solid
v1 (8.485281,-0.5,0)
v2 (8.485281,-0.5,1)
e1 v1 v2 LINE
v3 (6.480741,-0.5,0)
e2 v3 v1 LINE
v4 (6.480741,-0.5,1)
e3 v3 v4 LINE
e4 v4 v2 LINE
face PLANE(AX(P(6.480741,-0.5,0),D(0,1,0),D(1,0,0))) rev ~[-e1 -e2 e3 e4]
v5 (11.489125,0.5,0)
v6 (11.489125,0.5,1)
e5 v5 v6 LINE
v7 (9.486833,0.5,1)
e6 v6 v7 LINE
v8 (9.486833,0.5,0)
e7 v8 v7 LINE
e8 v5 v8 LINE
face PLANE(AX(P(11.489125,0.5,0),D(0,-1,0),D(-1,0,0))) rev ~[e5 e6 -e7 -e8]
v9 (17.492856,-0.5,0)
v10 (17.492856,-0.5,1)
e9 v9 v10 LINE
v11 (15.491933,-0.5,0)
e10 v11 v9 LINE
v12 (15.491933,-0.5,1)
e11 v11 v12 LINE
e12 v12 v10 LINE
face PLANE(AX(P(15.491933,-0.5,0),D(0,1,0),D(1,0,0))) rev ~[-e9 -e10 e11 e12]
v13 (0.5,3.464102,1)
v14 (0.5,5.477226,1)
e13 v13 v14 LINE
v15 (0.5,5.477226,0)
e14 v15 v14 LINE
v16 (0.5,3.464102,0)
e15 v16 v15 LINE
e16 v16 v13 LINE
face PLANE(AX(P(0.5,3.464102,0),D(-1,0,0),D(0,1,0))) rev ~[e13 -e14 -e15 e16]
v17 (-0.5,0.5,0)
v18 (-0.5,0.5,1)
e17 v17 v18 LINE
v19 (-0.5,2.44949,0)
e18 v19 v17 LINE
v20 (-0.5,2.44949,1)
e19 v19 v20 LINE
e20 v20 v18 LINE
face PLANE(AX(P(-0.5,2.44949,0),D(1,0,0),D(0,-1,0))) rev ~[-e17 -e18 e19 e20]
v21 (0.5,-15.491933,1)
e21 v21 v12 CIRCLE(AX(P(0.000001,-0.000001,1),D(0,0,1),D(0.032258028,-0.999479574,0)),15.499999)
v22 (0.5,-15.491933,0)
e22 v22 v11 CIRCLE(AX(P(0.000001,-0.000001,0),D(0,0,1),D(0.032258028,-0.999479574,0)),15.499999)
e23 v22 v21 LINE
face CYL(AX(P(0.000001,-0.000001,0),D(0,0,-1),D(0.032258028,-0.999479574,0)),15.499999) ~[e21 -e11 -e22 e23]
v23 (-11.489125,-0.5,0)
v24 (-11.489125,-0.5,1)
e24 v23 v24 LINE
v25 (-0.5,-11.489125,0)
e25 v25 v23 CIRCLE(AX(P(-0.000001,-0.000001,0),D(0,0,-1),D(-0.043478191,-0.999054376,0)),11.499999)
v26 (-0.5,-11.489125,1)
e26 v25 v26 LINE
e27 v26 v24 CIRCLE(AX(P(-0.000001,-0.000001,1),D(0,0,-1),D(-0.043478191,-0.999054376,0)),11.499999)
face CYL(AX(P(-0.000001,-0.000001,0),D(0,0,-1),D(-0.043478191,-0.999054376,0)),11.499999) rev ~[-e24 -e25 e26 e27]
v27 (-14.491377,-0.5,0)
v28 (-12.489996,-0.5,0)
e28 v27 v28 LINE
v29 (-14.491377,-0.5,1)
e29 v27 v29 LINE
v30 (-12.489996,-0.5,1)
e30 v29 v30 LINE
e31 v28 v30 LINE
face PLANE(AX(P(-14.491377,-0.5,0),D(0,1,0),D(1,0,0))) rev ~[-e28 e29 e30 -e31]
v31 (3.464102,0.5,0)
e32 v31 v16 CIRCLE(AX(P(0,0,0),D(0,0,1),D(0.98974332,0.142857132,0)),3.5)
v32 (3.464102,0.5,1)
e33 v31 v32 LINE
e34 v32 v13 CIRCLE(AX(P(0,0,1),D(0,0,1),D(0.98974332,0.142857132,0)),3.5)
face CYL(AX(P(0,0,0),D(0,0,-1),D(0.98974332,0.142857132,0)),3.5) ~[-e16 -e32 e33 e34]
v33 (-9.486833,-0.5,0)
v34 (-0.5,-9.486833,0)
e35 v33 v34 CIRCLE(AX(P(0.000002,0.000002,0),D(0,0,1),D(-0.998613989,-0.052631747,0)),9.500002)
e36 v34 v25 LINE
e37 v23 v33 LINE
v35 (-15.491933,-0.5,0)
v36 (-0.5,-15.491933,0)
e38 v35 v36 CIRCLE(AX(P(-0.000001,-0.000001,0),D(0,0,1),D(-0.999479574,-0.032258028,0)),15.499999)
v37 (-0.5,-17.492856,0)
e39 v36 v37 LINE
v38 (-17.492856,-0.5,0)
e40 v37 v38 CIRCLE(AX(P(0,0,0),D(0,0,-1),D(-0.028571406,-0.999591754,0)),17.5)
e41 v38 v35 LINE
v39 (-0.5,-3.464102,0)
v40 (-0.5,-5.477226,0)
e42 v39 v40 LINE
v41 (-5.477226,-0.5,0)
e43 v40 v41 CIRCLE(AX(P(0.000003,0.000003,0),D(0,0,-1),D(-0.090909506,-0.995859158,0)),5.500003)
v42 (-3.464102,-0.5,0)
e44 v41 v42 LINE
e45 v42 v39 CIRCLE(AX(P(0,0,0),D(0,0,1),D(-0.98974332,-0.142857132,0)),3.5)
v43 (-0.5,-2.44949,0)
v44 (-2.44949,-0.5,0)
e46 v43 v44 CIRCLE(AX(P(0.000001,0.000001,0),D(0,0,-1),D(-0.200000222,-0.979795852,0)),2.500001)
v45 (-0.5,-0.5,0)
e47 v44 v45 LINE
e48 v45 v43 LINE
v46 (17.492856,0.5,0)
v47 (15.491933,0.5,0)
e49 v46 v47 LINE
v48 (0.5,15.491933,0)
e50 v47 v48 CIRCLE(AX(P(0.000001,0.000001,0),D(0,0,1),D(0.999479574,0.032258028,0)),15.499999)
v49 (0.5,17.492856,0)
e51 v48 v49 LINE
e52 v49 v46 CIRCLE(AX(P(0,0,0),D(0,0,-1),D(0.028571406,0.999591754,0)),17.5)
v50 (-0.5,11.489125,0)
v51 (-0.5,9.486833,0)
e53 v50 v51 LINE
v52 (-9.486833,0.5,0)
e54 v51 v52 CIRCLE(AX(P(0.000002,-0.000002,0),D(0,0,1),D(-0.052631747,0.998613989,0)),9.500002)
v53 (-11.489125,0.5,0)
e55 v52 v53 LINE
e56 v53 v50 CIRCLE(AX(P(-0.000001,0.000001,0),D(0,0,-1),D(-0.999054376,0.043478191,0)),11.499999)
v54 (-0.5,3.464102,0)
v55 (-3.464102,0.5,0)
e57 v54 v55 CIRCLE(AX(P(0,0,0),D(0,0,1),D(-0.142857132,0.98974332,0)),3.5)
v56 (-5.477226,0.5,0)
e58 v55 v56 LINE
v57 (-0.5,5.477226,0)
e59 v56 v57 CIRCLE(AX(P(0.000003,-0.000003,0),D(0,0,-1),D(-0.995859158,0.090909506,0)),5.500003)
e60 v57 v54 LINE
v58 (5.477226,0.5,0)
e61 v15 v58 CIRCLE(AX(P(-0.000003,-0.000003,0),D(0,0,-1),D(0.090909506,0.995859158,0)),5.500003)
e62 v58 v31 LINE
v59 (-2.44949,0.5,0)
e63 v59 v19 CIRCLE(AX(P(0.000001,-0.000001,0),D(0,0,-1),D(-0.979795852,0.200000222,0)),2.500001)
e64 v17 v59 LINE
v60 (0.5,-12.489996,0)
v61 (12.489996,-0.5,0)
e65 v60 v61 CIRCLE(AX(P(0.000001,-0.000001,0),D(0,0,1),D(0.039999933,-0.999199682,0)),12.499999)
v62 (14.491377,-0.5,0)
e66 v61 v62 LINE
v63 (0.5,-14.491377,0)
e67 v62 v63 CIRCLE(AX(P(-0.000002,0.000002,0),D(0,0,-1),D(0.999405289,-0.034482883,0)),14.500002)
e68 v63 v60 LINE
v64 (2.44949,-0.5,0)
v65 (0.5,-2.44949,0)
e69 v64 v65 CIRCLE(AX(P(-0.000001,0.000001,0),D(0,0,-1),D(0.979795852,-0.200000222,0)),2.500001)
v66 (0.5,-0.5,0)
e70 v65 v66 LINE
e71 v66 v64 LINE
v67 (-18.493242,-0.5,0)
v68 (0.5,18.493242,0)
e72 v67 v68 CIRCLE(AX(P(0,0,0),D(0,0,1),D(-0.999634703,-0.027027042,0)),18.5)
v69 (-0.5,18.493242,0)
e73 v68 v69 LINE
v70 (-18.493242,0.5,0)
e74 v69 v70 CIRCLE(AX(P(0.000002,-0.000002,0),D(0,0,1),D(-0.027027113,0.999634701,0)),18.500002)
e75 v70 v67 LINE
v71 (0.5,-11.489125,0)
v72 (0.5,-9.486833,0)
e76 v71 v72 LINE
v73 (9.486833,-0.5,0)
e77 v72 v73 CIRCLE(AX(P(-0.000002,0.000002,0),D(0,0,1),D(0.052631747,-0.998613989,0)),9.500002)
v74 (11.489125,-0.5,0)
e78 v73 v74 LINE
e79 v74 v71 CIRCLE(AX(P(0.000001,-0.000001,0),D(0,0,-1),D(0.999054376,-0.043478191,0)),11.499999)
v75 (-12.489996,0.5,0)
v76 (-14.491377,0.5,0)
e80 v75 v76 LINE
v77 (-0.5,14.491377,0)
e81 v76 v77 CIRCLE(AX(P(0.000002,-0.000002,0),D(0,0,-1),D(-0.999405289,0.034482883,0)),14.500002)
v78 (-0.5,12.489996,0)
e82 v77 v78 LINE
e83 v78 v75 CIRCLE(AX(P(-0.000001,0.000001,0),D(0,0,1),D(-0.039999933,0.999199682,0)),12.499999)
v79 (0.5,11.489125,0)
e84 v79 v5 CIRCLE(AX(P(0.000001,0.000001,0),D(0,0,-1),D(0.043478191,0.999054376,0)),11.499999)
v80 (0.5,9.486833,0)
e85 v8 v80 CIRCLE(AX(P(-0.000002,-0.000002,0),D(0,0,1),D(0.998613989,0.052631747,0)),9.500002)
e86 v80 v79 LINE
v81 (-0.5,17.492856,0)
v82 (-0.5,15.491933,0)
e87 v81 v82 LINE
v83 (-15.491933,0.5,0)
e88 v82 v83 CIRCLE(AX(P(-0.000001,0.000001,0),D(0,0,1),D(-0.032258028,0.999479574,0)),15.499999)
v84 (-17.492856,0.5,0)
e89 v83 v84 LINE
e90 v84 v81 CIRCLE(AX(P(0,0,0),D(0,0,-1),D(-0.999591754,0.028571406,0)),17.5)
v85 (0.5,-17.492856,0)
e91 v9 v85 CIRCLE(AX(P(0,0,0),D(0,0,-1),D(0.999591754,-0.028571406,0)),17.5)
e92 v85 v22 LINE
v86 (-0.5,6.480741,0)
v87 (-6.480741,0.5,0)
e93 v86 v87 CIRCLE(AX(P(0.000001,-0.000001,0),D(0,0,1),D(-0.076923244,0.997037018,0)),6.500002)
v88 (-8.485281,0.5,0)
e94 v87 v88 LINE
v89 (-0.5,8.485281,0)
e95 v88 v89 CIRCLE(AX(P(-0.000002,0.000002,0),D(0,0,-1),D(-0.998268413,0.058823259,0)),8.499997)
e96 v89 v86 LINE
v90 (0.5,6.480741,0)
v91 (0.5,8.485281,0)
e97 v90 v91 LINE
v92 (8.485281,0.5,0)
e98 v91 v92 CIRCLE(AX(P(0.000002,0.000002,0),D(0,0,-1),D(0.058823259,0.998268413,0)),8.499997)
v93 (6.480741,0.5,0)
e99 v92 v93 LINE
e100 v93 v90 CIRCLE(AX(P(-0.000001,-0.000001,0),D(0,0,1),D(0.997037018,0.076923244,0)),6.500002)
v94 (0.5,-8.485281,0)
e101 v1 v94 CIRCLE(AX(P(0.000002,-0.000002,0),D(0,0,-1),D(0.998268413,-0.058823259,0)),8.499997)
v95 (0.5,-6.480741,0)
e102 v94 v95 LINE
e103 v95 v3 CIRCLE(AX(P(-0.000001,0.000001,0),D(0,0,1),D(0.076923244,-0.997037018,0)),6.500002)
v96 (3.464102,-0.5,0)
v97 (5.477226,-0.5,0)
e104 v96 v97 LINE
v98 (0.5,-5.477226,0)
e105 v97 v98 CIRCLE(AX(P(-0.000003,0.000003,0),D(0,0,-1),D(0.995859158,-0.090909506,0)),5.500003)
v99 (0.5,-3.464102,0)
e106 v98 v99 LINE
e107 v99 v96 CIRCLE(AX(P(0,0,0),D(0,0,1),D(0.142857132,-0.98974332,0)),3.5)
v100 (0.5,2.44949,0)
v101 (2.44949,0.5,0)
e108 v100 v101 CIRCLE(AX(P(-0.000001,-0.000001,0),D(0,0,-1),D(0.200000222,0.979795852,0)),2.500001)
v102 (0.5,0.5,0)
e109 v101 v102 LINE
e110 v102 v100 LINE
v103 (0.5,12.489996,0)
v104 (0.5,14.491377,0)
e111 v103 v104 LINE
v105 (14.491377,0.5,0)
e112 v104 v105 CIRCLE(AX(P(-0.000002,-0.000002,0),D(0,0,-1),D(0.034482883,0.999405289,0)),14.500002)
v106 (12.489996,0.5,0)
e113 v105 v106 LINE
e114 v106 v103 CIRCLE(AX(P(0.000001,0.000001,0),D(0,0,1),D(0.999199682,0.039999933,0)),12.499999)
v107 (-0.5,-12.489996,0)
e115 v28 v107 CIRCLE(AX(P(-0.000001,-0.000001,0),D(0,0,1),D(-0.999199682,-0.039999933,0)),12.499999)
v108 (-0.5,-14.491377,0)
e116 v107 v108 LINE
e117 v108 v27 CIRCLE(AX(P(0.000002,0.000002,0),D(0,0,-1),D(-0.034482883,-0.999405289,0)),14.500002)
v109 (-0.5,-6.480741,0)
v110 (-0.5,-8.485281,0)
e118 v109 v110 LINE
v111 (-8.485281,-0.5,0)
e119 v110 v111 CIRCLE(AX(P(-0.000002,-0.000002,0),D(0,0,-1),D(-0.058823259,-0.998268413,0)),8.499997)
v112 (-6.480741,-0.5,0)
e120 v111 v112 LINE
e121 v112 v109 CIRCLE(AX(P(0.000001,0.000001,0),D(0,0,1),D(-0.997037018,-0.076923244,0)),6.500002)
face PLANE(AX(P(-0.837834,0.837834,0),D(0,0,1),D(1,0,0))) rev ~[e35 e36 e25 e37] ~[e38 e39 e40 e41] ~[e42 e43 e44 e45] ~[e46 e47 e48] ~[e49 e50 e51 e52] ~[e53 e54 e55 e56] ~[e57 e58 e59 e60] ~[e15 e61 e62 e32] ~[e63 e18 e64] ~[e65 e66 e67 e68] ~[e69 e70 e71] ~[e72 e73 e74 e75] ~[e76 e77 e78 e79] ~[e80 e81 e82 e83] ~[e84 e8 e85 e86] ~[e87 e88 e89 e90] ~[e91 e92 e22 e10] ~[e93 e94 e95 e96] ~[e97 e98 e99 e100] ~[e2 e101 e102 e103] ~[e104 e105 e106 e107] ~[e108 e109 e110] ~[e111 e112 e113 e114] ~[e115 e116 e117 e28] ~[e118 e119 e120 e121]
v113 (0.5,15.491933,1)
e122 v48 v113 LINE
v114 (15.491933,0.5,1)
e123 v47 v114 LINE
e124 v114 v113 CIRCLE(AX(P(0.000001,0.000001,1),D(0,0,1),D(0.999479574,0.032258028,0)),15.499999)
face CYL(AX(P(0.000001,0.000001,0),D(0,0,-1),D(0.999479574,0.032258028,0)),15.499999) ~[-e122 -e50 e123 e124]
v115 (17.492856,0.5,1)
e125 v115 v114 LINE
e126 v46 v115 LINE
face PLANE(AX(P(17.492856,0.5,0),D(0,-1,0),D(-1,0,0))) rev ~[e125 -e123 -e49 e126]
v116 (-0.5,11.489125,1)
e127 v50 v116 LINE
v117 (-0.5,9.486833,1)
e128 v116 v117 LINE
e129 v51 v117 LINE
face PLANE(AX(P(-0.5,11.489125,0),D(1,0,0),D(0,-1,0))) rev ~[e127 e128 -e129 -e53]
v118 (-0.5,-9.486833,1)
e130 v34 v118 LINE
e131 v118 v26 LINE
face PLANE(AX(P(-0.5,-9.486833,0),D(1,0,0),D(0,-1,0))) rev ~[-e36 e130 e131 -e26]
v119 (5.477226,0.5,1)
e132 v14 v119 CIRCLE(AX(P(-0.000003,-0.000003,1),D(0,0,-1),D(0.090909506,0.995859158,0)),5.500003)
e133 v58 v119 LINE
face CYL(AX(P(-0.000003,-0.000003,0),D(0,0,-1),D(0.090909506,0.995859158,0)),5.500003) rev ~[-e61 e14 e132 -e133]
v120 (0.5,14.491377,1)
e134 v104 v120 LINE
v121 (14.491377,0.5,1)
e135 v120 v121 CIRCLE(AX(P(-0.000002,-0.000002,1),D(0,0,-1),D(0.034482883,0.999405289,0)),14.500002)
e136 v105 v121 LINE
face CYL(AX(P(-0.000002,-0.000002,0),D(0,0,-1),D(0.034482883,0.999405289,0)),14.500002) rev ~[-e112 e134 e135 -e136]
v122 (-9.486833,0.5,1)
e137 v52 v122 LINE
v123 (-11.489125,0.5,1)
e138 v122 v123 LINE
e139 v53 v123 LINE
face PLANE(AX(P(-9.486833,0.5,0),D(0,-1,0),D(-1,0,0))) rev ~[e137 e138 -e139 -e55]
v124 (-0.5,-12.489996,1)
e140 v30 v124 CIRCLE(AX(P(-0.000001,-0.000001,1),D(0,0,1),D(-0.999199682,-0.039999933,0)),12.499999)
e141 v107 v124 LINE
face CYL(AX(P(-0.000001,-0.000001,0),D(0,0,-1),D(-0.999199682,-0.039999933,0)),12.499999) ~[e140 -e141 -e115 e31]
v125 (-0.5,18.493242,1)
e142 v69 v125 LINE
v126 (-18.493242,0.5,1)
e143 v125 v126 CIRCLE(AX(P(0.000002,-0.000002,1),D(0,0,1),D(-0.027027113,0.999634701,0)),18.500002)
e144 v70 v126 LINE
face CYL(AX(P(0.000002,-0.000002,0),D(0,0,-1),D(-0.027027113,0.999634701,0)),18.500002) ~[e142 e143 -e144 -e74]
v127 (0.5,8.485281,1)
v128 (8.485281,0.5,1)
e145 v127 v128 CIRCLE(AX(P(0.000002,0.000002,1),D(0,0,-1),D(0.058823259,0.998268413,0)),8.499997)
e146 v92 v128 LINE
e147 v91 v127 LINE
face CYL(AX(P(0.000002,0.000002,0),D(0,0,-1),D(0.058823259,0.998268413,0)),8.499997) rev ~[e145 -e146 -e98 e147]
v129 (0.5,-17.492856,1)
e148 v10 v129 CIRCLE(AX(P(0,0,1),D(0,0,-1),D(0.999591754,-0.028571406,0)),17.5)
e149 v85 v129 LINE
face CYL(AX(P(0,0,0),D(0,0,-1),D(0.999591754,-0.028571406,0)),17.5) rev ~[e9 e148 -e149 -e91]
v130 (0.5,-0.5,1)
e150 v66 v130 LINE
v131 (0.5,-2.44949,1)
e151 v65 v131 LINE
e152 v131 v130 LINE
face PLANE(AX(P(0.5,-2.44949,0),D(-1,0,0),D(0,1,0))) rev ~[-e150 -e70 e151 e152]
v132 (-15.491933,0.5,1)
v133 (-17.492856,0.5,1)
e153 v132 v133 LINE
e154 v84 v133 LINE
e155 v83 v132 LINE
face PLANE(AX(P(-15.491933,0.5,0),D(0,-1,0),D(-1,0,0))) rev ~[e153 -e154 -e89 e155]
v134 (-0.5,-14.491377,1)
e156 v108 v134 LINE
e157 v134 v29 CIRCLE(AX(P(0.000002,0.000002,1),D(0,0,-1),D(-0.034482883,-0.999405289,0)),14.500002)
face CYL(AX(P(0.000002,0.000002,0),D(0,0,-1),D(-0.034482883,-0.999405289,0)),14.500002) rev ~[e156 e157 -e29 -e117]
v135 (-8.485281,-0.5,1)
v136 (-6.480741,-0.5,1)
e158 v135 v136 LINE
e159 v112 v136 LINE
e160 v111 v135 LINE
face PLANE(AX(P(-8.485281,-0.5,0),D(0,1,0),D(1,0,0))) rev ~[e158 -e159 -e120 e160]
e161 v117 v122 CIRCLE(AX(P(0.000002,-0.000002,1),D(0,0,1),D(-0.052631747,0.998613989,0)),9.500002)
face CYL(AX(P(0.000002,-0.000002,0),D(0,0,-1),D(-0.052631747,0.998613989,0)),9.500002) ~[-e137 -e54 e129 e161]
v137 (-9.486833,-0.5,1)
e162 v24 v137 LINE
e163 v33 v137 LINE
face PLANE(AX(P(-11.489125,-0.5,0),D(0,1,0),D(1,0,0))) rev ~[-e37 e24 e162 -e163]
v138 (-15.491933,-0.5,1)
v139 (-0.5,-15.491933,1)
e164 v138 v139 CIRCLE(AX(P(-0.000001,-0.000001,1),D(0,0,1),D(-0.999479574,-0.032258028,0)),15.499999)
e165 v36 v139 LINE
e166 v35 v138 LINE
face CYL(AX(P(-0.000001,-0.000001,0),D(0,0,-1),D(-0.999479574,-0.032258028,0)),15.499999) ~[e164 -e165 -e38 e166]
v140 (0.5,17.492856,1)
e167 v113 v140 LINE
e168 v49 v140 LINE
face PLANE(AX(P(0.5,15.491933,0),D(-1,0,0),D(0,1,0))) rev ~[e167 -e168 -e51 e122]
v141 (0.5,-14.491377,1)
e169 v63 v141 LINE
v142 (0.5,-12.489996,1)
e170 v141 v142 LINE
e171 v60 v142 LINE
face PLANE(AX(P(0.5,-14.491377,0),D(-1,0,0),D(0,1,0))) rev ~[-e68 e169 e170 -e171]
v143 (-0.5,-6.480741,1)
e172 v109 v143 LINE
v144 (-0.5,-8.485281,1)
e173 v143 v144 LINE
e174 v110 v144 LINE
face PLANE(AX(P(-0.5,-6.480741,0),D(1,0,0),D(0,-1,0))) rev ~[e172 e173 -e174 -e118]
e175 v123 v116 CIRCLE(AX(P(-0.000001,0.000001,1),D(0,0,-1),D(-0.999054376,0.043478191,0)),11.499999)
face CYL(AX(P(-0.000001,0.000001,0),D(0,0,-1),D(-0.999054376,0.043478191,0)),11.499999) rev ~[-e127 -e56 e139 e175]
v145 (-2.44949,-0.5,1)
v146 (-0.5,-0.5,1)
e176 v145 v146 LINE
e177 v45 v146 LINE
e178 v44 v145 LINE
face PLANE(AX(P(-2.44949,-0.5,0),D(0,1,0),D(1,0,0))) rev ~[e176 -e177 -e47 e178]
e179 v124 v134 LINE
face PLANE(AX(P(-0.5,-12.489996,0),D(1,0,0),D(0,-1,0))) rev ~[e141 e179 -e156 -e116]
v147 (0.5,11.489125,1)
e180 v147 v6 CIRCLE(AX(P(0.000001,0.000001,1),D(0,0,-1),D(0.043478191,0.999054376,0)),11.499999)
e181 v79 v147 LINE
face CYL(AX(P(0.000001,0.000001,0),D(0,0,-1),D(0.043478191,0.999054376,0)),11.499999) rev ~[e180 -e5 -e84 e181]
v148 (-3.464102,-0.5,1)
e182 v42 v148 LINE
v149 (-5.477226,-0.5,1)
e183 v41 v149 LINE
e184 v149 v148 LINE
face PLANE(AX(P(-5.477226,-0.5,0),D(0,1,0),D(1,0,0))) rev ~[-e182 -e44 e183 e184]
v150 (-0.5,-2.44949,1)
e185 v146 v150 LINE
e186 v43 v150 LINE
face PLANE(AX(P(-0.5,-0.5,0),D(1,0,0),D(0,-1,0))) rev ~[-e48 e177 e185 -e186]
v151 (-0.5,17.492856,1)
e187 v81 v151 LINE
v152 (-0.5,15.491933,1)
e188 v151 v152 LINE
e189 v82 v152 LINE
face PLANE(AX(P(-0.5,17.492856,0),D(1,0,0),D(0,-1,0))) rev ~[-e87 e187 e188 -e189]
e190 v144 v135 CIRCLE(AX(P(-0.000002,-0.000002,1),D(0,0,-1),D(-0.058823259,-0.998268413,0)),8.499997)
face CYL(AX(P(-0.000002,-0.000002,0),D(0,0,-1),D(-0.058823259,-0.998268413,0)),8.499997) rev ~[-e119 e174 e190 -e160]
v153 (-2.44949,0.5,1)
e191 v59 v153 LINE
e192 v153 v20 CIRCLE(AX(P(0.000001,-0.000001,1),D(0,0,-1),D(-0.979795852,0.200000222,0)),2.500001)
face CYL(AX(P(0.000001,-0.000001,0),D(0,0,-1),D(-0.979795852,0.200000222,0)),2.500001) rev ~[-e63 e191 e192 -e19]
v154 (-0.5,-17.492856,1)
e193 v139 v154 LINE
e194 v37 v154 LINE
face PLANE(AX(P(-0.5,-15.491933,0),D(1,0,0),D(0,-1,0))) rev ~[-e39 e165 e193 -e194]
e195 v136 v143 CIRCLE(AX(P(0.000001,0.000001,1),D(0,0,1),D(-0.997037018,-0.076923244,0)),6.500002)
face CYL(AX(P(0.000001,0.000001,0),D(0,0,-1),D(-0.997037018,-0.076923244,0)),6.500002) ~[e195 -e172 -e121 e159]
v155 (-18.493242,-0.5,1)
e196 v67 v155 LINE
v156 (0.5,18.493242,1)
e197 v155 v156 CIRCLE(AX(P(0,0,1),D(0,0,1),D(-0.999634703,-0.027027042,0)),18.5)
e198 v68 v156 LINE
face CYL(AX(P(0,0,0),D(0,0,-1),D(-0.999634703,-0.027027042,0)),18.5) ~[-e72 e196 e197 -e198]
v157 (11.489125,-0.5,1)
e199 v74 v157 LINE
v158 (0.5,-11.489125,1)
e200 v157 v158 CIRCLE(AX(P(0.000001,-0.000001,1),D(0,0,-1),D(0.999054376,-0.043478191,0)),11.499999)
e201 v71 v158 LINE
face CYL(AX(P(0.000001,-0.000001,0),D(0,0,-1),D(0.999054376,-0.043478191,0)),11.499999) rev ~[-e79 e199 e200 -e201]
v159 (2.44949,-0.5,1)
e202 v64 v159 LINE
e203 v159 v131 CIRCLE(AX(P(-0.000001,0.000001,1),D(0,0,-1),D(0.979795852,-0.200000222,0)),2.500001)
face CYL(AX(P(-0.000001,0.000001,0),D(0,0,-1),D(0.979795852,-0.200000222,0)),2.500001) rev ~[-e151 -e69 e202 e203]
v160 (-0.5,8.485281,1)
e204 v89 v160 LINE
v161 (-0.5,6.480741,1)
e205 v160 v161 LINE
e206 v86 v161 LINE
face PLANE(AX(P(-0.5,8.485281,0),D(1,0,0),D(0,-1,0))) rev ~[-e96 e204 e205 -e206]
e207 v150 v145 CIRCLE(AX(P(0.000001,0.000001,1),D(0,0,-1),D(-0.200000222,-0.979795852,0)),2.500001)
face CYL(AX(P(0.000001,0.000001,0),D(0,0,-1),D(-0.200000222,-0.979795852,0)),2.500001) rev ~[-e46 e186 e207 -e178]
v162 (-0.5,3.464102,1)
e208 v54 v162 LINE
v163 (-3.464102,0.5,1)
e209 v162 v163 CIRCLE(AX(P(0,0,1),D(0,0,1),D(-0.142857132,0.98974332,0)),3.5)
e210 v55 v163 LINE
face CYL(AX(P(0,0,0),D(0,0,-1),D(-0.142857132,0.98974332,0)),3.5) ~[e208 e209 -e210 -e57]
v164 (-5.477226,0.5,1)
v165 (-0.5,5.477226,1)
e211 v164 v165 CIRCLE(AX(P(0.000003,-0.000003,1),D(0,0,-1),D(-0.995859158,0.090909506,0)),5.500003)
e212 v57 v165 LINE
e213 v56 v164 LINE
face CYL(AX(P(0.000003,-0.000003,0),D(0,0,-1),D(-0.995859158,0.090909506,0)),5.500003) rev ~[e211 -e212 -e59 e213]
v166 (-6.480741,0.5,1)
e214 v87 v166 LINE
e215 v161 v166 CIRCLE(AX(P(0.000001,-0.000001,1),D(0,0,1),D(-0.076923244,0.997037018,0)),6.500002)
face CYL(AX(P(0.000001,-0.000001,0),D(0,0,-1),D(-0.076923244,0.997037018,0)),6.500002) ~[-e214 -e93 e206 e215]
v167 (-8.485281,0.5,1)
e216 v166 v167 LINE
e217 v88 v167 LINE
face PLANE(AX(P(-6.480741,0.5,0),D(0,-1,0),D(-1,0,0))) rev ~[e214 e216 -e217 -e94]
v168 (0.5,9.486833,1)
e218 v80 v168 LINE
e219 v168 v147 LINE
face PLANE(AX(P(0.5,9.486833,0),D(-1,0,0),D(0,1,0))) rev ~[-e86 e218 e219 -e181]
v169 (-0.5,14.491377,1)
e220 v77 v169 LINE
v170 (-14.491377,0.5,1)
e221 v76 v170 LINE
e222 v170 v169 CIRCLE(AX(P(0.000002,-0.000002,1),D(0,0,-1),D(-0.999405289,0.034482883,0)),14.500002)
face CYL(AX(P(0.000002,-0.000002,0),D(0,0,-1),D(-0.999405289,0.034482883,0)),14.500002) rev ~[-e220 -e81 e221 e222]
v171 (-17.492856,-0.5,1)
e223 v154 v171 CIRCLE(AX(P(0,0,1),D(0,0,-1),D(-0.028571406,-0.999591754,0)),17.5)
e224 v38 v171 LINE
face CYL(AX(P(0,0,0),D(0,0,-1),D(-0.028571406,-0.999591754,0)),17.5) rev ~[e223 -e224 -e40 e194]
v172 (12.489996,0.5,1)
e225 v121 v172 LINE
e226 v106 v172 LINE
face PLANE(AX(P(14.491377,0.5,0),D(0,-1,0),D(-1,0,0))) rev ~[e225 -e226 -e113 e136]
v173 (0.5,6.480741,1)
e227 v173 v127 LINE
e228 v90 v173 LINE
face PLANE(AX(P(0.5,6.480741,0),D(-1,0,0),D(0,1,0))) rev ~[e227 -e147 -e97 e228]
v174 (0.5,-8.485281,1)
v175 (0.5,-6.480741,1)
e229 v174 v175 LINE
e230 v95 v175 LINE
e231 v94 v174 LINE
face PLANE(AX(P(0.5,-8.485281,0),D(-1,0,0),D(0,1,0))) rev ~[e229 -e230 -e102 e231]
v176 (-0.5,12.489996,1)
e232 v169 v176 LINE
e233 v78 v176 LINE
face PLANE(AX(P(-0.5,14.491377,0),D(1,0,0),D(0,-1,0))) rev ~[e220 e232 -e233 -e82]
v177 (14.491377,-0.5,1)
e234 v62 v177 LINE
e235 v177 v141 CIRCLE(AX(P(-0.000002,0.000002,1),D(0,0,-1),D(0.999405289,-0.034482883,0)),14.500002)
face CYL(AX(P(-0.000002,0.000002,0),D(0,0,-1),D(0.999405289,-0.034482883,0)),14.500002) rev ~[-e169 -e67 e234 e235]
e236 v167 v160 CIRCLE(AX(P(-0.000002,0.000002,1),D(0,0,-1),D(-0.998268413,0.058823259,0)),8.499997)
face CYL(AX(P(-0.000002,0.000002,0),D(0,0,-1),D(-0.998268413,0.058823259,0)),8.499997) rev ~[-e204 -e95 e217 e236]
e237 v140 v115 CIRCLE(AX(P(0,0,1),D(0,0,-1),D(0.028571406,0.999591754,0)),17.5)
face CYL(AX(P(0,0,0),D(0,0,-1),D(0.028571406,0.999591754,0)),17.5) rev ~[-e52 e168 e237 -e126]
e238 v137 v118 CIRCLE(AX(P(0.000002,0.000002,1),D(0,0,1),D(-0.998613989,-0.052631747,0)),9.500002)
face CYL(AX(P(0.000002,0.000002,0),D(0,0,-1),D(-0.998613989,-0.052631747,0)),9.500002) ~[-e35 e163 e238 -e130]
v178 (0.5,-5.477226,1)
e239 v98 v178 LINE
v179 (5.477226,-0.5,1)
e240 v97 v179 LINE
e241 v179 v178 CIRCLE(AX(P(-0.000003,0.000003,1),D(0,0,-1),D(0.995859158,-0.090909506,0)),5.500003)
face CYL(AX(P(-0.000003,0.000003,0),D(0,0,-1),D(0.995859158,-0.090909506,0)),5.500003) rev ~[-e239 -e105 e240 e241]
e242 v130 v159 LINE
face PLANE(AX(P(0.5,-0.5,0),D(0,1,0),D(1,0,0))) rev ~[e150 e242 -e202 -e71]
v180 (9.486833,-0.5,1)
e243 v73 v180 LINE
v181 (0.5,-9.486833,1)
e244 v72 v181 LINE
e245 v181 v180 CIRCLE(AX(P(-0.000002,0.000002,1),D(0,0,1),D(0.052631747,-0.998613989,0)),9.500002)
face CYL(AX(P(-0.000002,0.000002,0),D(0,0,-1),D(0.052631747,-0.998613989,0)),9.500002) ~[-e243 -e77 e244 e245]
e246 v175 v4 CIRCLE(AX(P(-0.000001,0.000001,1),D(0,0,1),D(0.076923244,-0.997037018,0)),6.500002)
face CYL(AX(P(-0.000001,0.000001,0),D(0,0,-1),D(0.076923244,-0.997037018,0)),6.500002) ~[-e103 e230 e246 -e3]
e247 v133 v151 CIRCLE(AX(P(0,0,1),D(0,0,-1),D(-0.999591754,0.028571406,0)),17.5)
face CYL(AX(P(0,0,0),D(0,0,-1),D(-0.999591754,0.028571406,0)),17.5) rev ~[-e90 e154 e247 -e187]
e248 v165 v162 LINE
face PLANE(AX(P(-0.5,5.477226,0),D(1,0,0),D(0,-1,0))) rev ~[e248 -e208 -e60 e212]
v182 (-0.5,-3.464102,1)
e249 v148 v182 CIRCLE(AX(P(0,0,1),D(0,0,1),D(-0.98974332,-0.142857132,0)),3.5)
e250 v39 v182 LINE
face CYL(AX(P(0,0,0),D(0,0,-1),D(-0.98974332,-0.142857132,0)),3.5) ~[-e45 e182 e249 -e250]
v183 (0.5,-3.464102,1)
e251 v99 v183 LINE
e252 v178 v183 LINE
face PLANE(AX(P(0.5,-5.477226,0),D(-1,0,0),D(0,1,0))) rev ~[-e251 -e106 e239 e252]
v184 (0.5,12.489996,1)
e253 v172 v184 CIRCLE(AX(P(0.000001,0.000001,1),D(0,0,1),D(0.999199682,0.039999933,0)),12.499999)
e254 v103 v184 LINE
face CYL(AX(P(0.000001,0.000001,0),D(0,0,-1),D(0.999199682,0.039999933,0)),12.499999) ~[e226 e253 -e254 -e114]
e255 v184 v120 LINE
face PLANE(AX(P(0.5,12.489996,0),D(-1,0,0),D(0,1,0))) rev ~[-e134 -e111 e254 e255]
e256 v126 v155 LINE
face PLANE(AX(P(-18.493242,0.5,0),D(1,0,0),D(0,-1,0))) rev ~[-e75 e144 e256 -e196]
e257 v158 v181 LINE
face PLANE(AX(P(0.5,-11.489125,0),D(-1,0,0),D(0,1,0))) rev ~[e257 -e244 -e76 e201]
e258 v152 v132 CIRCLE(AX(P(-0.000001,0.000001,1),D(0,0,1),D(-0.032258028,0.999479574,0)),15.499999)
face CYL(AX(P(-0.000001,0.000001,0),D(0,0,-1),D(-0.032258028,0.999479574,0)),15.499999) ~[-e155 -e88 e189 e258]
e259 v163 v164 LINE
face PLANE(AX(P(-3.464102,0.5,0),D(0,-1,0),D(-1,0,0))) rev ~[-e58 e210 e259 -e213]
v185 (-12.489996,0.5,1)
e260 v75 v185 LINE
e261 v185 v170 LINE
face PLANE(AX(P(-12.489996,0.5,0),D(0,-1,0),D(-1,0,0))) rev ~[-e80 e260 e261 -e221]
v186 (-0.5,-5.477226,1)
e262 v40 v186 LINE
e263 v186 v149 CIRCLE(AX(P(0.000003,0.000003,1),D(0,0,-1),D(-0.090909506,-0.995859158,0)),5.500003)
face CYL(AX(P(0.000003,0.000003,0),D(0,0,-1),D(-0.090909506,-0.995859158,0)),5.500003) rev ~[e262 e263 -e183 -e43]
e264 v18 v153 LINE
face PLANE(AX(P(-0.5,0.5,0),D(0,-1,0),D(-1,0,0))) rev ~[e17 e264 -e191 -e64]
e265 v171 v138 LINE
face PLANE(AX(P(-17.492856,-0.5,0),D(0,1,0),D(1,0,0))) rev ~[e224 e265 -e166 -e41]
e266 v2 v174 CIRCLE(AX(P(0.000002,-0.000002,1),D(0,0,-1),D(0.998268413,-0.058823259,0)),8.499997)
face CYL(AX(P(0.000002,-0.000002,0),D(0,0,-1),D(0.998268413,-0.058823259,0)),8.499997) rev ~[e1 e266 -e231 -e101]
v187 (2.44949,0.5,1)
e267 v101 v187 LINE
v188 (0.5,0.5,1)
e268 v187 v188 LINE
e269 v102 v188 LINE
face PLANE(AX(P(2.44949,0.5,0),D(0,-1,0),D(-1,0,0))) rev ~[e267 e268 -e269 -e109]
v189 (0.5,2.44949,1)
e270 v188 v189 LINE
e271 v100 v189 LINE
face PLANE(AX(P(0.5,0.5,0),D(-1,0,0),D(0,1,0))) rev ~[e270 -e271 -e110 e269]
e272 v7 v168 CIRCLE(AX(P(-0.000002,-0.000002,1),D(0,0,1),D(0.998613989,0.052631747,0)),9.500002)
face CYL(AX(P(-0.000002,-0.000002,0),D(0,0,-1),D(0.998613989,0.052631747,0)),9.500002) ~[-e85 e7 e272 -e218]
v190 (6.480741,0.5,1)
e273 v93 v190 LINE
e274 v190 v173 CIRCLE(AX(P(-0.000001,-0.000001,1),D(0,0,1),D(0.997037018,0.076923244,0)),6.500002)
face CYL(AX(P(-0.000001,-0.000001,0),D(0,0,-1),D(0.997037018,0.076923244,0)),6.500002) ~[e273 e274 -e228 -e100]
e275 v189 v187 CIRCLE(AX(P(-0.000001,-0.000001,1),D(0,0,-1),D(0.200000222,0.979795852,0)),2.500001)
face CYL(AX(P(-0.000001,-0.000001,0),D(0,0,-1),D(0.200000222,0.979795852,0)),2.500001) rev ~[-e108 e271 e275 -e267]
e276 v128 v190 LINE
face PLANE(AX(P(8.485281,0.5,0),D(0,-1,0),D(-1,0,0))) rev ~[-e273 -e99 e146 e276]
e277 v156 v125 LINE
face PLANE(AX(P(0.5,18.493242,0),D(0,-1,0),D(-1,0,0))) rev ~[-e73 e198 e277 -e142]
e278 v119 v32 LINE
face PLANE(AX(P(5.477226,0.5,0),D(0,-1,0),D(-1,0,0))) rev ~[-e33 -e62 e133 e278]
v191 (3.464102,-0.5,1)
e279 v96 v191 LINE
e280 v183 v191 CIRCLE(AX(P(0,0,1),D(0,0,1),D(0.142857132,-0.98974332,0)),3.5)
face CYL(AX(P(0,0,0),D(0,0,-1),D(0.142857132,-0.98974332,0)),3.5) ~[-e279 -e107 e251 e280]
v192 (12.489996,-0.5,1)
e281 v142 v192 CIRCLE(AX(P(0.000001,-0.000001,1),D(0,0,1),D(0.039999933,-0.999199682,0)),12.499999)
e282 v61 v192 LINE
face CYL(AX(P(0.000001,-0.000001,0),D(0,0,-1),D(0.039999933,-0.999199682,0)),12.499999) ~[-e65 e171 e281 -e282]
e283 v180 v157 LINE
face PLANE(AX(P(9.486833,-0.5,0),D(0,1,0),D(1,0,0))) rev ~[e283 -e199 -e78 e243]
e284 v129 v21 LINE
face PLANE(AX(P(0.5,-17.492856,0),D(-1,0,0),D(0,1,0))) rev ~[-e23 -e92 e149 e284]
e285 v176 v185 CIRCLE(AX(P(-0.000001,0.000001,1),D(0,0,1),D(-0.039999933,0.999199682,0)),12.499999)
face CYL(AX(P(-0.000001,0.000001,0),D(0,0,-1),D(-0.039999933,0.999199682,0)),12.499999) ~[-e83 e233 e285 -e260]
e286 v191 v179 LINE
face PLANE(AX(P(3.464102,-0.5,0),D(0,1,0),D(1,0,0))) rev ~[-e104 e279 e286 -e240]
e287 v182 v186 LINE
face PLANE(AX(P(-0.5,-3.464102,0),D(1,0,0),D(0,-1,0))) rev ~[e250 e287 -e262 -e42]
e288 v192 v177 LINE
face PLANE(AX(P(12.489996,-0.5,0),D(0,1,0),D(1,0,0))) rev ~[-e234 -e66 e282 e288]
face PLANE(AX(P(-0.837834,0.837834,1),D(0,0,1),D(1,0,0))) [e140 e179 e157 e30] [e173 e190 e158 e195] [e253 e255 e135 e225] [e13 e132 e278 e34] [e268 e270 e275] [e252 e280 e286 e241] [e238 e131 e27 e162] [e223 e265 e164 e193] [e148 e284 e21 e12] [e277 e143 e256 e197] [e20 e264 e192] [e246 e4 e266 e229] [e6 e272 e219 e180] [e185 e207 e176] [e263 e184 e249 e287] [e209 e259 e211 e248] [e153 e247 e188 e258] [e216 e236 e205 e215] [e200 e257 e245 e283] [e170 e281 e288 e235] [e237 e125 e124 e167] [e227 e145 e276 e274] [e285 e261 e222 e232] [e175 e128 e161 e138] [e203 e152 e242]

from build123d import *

# Parameters (mm, degrees)
F1_DEPTH = 1


with BuildPart() as f1:
    # F0 (on Top) → F1 (new body)
    with BuildSketch(Plane.XY):
        with BuildLine():
            Line((-18.493242, 0.5), (-18.493242, -0.5))
            ThreePointArc((-18.493242, -0.5), (13.081475, -13.081475), (0.5, 18.493242))
            Line((0.5, 18.493242), (-0.5, 18.493242))
            ThreePointArc((-0.5, 18.493242), (-13.081475, 13.081475), (-18.493242, 0.5))
        make_face()
        with BuildLine():
            Line((-17.492856, -0.5), (-15.491933, -0.5))
            ThreePointArc((-15.491933, -0.5), (-10.960155, -10.960155), (-0.5, -15.491933))
            Line((-0.5, -15.491933), (-0.5, -17.492856))
            ThreePointArc((-0.5, -17.492856), (-12.374369, -12.374369), (-17.492856, -0.5))
        make_face(mode=Mode.SUBTRACT)
        with BuildLine():
            Line((-14.491377, -0.5), (-12.489996, -0.5))
            ThreePointArc((-12.489996, -0.5), (-8.838835, -8.838835), (-0.5, -12.489996))
            Line((-0.5, -12.489996), (-0.5, -14.491377))
            ThreePointArc((-0.5, -14.491377), (-10.253048, -10.253048), (-14.491377, -0.5))
        make_face(mode=Mode.SUBTRACT)
        with BuildLine():
            Line((-11.489125, -0.5), (-9.486833, -0.5))
            ThreePointArc((-9.486833, -0.5), (-6.717514, -6.717514), (-0.5, -9.486833))
            Line((-0.5, -9.486833), (-0.5, -11.489125))
            ThreePointArc((-0.5, -11.489125), (-8.131728, -8.131728), (-11.489125, -0.5))
        make_face(mode=Mode.SUBTRACT)
        with BuildLine():
            Line((-8.485281, -0.5), (-6.480741, -0.5))
            ThreePointArc((-6.480741, -0.5), (-4.596194, -4.596194), (-0.5, -6.480741))
            Line((-0.5, -6.480741), (-0.5, -8.485281))
            ThreePointArc((-0.5, -8.485281), (-6.010408, -6.010408), (-8.485281, -0.5))
        make_face(mode=Mode.SUBTRACT)
        with BuildLine():
            Line((-5.477226, -0.5), (-3.464102, -0.5))
            ThreePointArc((-3.464102, -0.5), (-2.474874, -2.474874), (-0.5, -3.464102))
            Line((-0.5, -3.464102), (-0.5, -5.477226))
            ThreePointArc((-0.5, -5.477226), (-3.889087, -3.889087), (-5.477226, -0.5))
        make_face(mode=Mode.SUBTRACT)
        with BuildLine():
            ThreePointArc((-0.5, -2.44949), (-1.767767, -1.767767), (-2.44949, -0.5))
            Line((-2.44949, -0.5), (-0.5, -0.5))
            Line((-0.5, -0.5), (-0.5, -2.44949))
        make_face(mode=Mode.SUBTRACT)
        with BuildLine():
            Line((15.491933, -0.5), (17.492856, -0.5))
            ThreePointArc((17.492856, -0.5), (12.374369, -12.374369), (0.5, -17.492856))
            Line((0.5, -17.492856), (0.5, -15.491933))
            ThreePointArc((0.5, -15.491933), (10.960155, -10.960155), (15.491933, -0.5))
        make_face(mode=Mode.SUBTRACT)
        with BuildLine():
            Line((12.489996, -0.5), (14.491377, -0.5))
            ThreePointArc((14.491377, -0.5), (10.253048, -10.253048), (0.5, -14.491377))
            Line((0.5, -14.491377), (0.5, -12.489996))
            ThreePointArc((0.5, -12.489996), (8.838835, -8.838835), (12.489996, -0.5))
        make_face(mode=Mode.SUBTRACT)
        with BuildLine():
            Line((9.486833, -0.5), (11.489125, -0.5))
            ThreePointArc((11.489125, -0.5), (8.131728, -8.131728), (0.5, -11.489125))
            Line((0.5, -11.489125), (0.5, -9.486833))
            ThreePointArc((0.5, -9.486833), (6.717514, -6.717514), (9.486833, -0.5))
        make_face(mode=Mode.SUBTRACT)
        with BuildLine():
            Line((6.480741, -0.5), (8.485281, -0.5))
            ThreePointArc((8.485281, -0.5), (6.010408, -6.010408), (0.5, -8.485281))
            Line((0.5, -8.485281), (0.5, -6.480741))
            ThreePointArc((0.5, -6.480741), (4.596194, -4.596194), (6.480741, -0.5))
        make_face(mode=Mode.SUBTRACT)
        with BuildLine():
            Line((3.464102, -0.5), (5.477226, -0.5))
            ThreePointArc((5.477226, -0.5), (3.889087, -3.889087), (0.5, -5.477226))
            Line((0.5, -5.477226), (0.5, -3.464102))
            ThreePointArc((0.5, -3.464102), (2.474874, -2.474874), (3.464102, -0.5))
        make_face(mode=Mode.SUBTRACT)
        with BuildLine():
            Line((0.5, -2.44949), (0.5, -0.5))
            Line((0.5, -0.5), (2.44949, -0.5))
            ThreePointArc((2.44949, -0.5), (1.767767, -1.767767), (0.5, -2.44949))
        make_face(mode=Mode.SUBTRACT)
        with BuildLine():
            Line((-0.5, 2.44949), (-0.5, 0.5))
            Line((-0.5, 0.5), (-2.44949, 0.5))
            ThreePointArc((-2.44949, 0.5), (-1.767767, 1.767767), (-0.5, 2.44949))
        make_face(mode=Mode.SUBTRACT)
        with BuildLine():
            Line((-3.464102, 0.5), (-5.477226, 0.5))
            ThreePointArc((-5.477226, 0.5), (-3.889087, 3.889087), (-0.5, 5.477226))
            Line((-0.5, 5.477226), (-0.5, 3.464102))
            ThreePointArc((-0.5, 3.464102), (-2.474874, 2.474874), (-3.464102, 0.5))
        make_face(mode=Mode.SUBTRACT)
        with BuildLine():
            Line((-6.480741, 0.5), (-8.485281, 0.5))
            ThreePointArc((-8.485281, 0.5), (-6.010408, 6.010408), (-0.5, 8.485281))
            Line((-0.5, 8.485281), (-0.5, 6.480741))
            ThreePointArc((-0.5, 6.480741), (-4.596194, 4.596194), (-6.480741, 0.5))
        make_face(mode=Mode.SUBTRACT)
        with BuildLine():
            Line((-9.486833, 0.5), (-11.489125, 0.5))
            ThreePointArc((-11.489125, 0.5), (-8.131728, 8.131728), (-0.5, 11.489125))
            Line((-0.5, 11.489125), (-0.5, 9.486833))
            ThreePointArc((-0.5, 9.486833), (-6.717514, 6.717514), (-9.486833, 0.5))
        make_face(mode=Mode.SUBTRACT)
        with BuildLine():
            Line((-12.489996, 0.5), (-14.491377, 0.5))
            ThreePointArc((-14.491377, 0.5), (-10.253048, 10.253048), (-0.5, 14.491377))
            Line((-0.5, 14.491377), (-0.5, 12.489996))
            ThreePointArc((-0.5, 12.489996), (-8.838835, 8.838835), (-12.489996, 0.5))
        make_face(mode=Mode.SUBTRACT)
        with BuildLine():
            Line((-15.491933, 0.5), (-17.492856, 0.5))
            ThreePointArc((-17.492856, 0.5), (-12.374369, 12.374369), (-0.5, 17.492856))
            Line((-0.5, 17.492856), (-0.5, 15.491933))
            ThreePointArc((-0.5, 15.491933), (-10.960155, 10.960155), (-15.491933, 0.5))
        make_face(mode=Mode.SUBTRACT)
        with BuildLine():
            Line((2.44949, 0.5), (0.5, 0.5))
            Line((0.5, 0.5), (0.5, 2.44949))
            ThreePointArc((0.5, 2.44949), (1.767767, 1.767767), (2.44949, 0.5))
        make_face(mode=Mode.SUBTRACT)
        with BuildLine():
            Line((5.477226, 0.5), (3.464102, 0.5))
            ThreePointArc((3.464102, 0.5), (2.474874, 2.474874), (0.5, 3.464102))
            Line((0.5, 3.464102), (0.5, 5.477226))
            ThreePointArc((0.5, 5.477226), (3.889087, 3.889087), (5.477226, 0.5))
        make_face(mode=Mode.SUBTRACT)
        with BuildLine():
            Line((8.485281, 0.5), (6.480741, 0.5))
            ThreePointArc((6.480741, 0.5), (4.596194, 4.596194), (0.5, 6.480741))
            Line((0.5, 6.480741), (0.5, 8.485281))
            ThreePointArc((0.5, 8.485281), (6.010408, 6.010408), (8.485281, 0.5))
        make_face(mode=Mode.SUBTRACT)
        with BuildLine():
            Line((11.489125, 0.5), (9.486833, 0.5))
            ThreePointArc((9.486833, 0.5), (6.717514, 6.717514), (0.5, 9.486833))
            Line((0.5, 9.486833), (0.5, 11.489125))
            ThreePointArc((0.5, 11.489125), (8.131728, 8.131728), (11.489125, 0.5))
        make_face(mode=Mode.SUBTRACT)
        with BuildLine():
            Line((14.491377, 0.5), (12.489996, 0.5))
            ThreePointArc((12.489996, 0.5), (8.838835, 8.838835), (0.5, 12.489996))
            Line((0.5, 12.489996), (0.5, 14.491377))
            ThreePointArc((0.5, 14.491377), (10.253048, 10.253048), (14.491377, 0.5))
        make_face(mode=Mode.SUBTRACT)
        with BuildLine():
            Line((0.5, 15.491933), (0.5, 17.492856))
            ThreePointArc((0.5, 17.492856), (12.374369, 12.374369), (17.492856, 0.5))
            Line((17.492856, 0.5), (15.491933, 0.5))
            ThreePointArc((15.491933, 0.5), (10.960155, 10.960155), (0.5, 15.491933))
        make_face(mode=Mode.SUBTRACT)
    extrude(amount=F1_DEPTH)


solid = f1.part
